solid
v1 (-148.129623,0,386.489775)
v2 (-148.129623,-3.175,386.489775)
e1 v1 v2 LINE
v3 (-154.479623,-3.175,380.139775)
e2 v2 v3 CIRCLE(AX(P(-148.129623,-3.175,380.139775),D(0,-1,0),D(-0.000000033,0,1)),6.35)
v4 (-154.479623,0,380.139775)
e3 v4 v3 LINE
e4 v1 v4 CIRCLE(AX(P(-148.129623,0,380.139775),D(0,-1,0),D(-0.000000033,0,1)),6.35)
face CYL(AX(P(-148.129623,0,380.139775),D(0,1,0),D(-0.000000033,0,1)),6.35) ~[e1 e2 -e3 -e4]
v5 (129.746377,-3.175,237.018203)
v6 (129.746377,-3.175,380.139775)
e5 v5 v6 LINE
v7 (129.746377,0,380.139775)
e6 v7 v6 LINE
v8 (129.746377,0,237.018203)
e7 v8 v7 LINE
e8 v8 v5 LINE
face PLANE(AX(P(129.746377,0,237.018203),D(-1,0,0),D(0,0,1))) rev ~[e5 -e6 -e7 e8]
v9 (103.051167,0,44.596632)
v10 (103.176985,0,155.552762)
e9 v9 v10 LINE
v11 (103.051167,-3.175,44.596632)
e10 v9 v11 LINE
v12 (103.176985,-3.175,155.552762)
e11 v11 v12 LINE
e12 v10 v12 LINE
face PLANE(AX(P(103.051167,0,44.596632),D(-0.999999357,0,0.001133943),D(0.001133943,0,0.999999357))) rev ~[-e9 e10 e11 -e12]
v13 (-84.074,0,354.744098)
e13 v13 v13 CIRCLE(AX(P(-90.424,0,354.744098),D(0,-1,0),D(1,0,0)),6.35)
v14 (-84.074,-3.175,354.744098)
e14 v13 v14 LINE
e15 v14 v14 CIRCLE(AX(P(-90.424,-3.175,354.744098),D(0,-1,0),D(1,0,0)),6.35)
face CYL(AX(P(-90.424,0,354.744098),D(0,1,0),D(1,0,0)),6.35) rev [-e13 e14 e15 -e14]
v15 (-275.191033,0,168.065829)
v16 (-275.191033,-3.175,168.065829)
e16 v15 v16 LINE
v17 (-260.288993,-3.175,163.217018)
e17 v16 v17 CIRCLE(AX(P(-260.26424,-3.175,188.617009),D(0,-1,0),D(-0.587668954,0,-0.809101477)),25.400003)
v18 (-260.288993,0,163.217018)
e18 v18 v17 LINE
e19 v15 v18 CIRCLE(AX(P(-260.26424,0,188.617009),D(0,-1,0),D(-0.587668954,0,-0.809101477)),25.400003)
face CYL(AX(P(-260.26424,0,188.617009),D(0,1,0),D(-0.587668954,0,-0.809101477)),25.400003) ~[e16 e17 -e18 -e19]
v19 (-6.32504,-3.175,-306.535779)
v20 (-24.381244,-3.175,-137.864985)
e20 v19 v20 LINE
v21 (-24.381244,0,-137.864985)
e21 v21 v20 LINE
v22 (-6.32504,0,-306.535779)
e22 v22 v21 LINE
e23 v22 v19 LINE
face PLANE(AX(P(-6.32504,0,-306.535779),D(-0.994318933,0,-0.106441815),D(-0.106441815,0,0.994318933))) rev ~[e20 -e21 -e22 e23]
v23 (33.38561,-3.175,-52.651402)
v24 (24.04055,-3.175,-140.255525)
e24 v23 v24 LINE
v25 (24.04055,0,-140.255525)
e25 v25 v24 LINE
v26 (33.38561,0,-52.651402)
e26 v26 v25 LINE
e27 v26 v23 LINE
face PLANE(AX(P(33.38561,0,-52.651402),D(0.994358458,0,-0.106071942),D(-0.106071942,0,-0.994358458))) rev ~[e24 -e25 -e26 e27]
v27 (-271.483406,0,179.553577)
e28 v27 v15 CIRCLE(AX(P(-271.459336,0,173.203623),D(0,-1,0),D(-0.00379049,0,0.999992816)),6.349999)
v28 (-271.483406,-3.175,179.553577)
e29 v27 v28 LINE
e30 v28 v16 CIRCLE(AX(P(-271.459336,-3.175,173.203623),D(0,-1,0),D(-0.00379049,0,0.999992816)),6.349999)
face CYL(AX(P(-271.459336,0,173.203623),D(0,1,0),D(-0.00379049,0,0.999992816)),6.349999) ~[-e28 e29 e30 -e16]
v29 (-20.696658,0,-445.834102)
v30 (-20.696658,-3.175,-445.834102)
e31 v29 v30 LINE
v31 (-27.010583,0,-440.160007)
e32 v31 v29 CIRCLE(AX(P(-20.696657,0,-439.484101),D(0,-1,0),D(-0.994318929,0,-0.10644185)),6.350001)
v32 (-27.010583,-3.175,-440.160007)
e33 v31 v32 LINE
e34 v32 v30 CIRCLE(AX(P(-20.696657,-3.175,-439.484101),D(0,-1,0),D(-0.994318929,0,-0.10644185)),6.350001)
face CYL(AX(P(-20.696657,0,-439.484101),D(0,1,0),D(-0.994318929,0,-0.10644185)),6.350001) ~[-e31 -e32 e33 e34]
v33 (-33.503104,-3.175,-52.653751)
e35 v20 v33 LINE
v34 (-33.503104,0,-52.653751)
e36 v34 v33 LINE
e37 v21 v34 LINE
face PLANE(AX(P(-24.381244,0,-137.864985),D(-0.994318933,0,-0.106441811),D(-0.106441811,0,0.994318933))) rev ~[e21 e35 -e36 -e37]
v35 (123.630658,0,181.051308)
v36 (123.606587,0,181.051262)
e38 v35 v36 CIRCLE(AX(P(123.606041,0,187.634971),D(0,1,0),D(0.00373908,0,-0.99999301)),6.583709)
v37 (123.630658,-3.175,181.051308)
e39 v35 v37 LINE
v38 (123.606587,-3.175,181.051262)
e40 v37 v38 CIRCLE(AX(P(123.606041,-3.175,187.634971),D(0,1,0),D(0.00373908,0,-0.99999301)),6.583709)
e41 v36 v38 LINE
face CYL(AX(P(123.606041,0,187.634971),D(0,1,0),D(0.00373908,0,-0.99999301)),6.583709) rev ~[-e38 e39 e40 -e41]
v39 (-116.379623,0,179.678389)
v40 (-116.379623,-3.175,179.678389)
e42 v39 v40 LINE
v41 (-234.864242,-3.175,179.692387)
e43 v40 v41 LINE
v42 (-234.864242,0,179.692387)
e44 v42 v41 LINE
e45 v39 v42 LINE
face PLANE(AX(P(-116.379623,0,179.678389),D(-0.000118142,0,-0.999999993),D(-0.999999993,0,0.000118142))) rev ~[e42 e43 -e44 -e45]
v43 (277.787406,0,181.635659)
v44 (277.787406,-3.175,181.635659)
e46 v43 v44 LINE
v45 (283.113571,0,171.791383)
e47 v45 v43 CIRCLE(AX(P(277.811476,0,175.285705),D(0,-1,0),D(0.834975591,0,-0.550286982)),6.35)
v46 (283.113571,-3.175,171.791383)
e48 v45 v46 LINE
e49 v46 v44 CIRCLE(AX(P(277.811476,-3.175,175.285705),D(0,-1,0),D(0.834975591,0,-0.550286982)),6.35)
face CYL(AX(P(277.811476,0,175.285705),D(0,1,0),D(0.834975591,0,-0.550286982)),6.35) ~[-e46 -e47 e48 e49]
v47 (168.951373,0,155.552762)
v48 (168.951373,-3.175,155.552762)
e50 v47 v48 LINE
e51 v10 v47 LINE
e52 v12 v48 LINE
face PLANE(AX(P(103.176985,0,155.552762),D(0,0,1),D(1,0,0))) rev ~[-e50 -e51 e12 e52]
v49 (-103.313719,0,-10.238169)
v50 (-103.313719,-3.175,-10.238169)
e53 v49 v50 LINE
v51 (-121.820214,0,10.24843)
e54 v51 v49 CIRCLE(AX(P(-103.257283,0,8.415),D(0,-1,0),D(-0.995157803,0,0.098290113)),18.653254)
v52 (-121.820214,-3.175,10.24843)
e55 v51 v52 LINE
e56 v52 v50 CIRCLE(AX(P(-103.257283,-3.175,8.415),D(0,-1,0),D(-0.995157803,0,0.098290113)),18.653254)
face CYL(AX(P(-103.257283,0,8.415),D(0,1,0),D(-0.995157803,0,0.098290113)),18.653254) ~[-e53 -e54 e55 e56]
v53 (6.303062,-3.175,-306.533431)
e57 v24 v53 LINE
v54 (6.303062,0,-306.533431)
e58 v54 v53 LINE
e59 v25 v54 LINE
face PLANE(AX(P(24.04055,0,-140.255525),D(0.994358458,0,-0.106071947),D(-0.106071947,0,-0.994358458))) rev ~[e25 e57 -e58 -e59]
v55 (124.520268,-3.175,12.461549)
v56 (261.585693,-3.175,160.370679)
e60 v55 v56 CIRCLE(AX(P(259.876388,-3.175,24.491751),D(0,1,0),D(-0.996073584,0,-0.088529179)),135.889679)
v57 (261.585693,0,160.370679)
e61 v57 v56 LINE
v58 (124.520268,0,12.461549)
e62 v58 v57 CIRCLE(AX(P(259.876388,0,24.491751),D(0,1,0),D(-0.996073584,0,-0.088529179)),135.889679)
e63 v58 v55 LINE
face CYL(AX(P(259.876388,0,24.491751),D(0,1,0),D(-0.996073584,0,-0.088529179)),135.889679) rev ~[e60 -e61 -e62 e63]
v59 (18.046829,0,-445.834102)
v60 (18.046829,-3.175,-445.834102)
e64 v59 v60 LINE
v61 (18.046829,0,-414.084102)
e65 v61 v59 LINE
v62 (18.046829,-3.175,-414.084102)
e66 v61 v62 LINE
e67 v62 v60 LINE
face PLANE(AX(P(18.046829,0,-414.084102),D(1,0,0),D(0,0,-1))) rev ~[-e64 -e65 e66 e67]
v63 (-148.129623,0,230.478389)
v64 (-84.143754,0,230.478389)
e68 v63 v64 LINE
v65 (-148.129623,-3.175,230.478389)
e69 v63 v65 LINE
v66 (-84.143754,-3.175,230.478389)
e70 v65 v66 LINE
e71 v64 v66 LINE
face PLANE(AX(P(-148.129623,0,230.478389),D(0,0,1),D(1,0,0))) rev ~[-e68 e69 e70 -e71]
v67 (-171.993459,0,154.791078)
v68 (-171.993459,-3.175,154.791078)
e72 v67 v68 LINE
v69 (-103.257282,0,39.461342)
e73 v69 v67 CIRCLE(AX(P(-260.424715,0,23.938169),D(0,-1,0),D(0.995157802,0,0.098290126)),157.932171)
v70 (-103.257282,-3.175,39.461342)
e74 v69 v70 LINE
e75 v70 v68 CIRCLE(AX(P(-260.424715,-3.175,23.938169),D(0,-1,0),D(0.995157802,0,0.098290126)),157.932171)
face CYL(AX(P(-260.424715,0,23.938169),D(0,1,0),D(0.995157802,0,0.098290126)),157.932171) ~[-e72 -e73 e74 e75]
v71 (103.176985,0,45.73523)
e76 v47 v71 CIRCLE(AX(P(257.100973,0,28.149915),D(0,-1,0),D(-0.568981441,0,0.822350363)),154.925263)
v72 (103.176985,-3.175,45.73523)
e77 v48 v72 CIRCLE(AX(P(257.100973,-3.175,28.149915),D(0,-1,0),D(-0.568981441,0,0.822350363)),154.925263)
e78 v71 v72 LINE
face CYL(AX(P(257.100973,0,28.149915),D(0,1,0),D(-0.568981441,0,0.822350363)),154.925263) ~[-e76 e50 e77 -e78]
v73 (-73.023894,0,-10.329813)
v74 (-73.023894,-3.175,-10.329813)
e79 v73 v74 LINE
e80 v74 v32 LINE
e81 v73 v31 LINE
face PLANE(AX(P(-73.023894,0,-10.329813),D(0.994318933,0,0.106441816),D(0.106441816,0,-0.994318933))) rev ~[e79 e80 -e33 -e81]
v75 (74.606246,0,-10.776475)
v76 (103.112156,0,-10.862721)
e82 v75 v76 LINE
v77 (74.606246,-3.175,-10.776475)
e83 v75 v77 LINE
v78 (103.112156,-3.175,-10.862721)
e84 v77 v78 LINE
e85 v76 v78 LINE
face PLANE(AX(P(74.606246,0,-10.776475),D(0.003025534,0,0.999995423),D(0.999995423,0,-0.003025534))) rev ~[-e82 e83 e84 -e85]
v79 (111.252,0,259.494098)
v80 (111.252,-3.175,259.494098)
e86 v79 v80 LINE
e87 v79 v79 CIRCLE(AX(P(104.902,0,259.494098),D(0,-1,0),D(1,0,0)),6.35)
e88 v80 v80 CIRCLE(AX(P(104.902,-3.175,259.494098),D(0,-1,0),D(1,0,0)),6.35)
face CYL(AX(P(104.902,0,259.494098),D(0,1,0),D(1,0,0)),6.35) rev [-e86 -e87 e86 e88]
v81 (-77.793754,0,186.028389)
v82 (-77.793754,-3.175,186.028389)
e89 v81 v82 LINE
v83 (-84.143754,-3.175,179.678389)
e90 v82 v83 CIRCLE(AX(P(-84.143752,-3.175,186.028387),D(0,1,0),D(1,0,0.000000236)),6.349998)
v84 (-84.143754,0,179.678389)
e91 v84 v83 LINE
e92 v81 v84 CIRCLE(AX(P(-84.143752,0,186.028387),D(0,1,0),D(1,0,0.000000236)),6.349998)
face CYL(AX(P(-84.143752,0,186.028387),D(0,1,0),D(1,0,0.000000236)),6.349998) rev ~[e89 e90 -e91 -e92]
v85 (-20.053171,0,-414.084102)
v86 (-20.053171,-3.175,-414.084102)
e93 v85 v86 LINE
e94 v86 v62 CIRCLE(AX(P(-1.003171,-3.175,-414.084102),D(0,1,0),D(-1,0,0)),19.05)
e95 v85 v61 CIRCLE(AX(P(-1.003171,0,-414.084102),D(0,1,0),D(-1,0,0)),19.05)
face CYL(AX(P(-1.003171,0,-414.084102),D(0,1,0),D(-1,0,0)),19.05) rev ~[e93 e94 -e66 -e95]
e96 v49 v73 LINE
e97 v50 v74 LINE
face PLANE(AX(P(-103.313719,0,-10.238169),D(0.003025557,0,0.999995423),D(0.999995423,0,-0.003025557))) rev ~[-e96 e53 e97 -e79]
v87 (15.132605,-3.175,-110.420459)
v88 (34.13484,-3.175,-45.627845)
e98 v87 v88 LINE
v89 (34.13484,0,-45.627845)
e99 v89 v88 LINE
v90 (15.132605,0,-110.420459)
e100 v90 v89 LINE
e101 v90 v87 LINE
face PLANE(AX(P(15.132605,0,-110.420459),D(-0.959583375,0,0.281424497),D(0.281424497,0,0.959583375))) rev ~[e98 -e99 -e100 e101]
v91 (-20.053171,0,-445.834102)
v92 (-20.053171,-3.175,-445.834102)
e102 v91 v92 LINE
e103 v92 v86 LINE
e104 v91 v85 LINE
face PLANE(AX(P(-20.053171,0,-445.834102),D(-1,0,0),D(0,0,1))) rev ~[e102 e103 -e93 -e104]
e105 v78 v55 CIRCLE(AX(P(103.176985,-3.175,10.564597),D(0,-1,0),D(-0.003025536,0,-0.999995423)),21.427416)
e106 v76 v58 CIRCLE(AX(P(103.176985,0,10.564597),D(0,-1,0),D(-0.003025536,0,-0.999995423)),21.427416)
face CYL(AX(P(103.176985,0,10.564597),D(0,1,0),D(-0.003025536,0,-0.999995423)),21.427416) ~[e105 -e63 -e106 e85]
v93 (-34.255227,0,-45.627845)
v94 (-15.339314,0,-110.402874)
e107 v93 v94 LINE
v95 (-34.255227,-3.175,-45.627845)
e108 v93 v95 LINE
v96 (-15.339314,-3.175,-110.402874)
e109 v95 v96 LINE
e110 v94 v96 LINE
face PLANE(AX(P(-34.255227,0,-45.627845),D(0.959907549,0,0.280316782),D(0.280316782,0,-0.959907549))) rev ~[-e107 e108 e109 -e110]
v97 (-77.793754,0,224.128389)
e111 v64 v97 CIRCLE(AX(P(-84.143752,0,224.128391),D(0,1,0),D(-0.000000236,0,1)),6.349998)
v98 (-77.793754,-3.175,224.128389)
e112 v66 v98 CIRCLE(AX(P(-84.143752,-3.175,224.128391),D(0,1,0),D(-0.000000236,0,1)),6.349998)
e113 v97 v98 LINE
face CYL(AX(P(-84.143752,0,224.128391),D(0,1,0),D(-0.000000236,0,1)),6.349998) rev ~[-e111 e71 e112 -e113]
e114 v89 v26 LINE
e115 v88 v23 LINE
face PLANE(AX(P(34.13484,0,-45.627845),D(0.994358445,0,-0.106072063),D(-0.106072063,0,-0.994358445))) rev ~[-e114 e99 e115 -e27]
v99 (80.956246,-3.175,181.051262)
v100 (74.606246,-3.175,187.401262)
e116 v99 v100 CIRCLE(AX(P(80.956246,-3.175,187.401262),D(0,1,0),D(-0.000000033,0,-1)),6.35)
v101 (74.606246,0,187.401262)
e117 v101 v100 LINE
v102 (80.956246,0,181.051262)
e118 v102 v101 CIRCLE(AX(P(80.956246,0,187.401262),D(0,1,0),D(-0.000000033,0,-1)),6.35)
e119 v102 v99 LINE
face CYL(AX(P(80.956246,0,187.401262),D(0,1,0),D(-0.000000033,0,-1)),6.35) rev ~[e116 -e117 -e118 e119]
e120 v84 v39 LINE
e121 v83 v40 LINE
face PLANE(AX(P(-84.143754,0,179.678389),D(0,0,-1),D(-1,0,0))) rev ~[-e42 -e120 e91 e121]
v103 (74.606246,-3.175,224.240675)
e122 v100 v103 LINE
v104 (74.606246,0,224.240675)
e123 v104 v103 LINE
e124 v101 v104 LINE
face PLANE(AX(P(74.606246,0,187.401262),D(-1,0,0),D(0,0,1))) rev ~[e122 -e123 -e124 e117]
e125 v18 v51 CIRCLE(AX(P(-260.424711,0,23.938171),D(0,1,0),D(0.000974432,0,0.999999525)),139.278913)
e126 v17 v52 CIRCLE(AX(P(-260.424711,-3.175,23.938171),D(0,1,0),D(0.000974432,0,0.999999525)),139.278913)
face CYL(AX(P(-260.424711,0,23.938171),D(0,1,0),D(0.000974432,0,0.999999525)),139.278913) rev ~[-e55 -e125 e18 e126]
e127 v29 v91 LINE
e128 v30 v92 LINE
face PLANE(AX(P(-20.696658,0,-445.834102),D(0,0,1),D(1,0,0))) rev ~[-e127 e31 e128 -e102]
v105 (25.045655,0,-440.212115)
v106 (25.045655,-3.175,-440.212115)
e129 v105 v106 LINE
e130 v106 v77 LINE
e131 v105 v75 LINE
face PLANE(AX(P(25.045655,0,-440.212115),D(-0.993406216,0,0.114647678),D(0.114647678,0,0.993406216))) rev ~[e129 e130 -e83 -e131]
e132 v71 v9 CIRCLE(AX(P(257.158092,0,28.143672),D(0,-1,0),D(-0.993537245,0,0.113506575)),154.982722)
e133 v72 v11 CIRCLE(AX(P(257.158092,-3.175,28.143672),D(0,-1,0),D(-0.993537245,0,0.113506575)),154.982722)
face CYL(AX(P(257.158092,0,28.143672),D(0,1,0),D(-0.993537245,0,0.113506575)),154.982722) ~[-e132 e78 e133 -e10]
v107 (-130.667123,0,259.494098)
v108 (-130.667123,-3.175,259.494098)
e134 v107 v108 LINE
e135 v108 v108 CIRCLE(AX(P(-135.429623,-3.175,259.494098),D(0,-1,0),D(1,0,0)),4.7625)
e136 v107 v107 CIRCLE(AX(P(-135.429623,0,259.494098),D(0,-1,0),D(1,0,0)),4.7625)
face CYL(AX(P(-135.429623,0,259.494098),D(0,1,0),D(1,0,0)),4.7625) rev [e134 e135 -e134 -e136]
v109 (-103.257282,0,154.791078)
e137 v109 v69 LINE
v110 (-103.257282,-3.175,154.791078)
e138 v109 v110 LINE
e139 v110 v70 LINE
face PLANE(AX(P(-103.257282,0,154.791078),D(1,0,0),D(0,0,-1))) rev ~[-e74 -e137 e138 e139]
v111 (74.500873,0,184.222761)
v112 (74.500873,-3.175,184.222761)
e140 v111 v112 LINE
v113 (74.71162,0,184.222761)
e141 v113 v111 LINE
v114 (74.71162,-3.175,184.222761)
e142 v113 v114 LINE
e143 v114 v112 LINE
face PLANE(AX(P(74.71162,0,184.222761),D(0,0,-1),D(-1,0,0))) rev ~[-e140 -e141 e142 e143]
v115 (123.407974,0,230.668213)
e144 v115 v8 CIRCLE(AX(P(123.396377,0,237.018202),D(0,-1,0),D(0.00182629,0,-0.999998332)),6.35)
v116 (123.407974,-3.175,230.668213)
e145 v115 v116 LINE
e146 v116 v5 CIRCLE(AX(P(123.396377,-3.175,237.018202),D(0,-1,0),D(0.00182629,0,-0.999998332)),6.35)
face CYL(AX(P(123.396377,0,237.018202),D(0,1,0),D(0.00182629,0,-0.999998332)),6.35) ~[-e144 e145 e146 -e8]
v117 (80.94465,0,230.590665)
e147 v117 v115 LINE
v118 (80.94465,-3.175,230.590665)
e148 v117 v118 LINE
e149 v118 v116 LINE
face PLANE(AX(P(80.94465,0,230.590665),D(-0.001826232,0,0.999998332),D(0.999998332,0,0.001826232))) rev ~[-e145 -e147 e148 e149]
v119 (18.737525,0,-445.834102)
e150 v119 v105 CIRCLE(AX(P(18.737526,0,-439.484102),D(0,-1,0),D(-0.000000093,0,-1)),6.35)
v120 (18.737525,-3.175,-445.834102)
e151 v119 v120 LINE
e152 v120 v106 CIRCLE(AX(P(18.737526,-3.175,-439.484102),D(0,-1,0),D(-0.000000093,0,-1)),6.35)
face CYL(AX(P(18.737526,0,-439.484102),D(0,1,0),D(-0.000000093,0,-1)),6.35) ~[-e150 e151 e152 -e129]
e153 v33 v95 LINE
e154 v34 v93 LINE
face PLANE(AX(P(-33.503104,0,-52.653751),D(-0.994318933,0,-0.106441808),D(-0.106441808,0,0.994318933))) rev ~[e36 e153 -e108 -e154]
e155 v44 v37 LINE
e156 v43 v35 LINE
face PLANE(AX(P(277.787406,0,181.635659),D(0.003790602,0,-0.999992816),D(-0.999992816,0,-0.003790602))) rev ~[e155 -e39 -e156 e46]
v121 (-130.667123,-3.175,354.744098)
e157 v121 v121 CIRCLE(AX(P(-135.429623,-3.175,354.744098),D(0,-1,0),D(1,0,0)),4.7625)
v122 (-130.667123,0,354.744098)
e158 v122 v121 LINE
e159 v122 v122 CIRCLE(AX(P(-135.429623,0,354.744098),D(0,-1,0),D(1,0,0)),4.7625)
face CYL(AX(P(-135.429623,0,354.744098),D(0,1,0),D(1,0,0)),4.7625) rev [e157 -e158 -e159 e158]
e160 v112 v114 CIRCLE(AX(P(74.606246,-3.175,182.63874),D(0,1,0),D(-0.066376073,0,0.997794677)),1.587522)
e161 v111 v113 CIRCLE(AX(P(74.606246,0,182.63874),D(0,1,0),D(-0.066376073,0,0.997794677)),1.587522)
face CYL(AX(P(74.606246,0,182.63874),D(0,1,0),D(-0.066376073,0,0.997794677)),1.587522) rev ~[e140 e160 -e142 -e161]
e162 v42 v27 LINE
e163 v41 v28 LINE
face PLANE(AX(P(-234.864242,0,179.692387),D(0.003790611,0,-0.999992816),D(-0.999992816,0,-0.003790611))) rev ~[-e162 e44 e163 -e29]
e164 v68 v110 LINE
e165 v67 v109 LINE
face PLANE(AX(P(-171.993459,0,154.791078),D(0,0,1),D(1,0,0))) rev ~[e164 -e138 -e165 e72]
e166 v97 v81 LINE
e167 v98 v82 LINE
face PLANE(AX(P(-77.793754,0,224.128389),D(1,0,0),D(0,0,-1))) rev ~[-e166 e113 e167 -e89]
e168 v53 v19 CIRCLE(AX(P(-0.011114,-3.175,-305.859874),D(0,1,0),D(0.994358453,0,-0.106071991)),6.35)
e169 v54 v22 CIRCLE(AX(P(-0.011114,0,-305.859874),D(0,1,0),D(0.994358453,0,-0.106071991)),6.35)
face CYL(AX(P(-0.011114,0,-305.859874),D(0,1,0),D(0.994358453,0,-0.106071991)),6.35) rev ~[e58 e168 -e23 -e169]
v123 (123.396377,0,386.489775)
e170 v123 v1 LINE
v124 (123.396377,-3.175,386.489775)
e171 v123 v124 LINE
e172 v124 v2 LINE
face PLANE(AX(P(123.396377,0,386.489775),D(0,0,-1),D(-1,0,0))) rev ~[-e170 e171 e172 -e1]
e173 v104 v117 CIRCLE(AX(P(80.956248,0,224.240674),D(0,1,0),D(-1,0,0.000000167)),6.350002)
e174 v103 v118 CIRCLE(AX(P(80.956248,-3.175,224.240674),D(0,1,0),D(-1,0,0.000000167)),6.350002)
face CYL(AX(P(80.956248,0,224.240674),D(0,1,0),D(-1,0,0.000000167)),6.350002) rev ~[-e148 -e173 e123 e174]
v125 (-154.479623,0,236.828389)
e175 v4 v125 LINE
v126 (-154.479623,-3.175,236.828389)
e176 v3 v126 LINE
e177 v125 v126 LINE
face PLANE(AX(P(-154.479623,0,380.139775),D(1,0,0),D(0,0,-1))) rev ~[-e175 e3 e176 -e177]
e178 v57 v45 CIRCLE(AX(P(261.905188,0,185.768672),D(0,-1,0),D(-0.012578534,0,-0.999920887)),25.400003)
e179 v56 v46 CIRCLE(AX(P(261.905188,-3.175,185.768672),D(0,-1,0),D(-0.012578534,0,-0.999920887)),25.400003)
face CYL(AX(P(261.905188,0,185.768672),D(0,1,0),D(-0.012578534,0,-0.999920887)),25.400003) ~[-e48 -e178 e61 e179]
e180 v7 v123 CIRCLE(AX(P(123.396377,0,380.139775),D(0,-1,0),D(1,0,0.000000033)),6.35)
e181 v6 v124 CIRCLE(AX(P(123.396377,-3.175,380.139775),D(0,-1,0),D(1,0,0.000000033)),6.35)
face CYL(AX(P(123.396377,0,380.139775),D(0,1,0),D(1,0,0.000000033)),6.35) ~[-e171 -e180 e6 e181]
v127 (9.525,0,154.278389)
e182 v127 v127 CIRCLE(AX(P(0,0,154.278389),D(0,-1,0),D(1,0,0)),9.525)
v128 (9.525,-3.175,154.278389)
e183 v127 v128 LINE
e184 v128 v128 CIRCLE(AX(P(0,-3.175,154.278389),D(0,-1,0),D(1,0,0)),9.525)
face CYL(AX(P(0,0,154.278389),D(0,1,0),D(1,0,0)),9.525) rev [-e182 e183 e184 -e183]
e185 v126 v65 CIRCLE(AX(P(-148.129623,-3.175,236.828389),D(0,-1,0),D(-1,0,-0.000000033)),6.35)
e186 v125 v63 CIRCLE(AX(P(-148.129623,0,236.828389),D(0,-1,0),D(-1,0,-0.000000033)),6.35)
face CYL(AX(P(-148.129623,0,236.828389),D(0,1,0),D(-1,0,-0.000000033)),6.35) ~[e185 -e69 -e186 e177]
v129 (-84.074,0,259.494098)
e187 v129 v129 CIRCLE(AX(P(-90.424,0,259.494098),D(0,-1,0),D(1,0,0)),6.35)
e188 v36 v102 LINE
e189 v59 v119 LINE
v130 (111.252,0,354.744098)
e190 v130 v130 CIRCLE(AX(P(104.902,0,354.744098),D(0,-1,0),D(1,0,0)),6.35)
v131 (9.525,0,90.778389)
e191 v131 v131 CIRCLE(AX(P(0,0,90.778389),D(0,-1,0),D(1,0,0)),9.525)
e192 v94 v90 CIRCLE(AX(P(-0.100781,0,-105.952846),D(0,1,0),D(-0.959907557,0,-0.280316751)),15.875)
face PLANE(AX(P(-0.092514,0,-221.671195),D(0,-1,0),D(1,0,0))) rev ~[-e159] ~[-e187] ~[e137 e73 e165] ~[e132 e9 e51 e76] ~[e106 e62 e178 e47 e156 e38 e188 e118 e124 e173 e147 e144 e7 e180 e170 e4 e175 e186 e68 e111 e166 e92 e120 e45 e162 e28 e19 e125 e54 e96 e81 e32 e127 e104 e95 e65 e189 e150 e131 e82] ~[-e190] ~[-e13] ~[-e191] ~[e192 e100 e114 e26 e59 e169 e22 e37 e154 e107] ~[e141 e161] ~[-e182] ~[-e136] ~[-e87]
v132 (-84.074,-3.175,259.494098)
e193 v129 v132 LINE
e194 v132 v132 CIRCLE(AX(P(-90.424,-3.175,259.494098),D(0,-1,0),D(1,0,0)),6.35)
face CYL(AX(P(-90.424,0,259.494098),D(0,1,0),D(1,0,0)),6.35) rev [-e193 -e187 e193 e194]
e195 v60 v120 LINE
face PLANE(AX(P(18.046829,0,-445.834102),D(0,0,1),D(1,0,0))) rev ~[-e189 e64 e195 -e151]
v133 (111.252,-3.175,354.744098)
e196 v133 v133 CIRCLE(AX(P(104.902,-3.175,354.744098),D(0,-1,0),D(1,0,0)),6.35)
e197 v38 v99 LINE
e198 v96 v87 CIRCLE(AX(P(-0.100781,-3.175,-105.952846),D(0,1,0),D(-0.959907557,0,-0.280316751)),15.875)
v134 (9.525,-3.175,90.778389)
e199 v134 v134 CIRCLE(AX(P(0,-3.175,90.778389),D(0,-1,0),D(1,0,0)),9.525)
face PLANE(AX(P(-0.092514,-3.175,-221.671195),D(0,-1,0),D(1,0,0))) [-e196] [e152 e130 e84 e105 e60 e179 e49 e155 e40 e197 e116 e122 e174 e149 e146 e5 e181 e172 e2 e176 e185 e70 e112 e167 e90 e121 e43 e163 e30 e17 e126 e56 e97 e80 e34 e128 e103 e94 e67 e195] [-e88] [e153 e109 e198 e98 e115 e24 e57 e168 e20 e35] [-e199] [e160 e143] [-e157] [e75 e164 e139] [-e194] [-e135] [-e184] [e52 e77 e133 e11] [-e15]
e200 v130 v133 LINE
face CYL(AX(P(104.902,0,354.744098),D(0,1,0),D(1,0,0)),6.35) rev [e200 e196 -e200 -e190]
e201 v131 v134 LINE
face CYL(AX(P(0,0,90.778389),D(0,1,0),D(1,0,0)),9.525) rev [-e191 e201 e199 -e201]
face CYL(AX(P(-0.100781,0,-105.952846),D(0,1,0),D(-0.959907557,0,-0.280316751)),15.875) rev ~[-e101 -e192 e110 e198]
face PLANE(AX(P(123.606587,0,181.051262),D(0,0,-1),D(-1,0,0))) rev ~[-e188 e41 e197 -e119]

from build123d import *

# Parameters (mm, degrees)
F0_R     = 9.525
F0_R_2   = 4.7625
F0_R_3   = 6.35
F1_DEPTH = 3.175


with BuildPart() as f1:
    # F0 (on Front) → F1 (new body)
    with BuildSketch(Plane.XZ):
        with BuildLine():
            Line((25.045655, -440.212115), (74.606246, -10.776475))
            Line((74.606246, -10.776475), (-73.023894, -10.329813))
            Line((-73.023894, -10.329813), (-27.010583, -440.160007))
            ThreePointArc((-27.010583, -440.160007), (-24.941095, -444.207157), (-20.696658, -445.834102))
            Line((-20.696658, -445.834102), (-20.053171, -445.834102))
            Line((-20.053171, -445.834102), (-20.053171, -414.084102))
            ThreePointArc((-20.053171, -414.084102), (-1.003171, -395.034102), (18.046829, -414.084102))
            Line((18.046829, -414.084102), (18.046829, -445.834102))
            Line((18.046829, -445.834102), (18.737525, -445.834102))
            ThreePointArc((18.737525, -445.834102), (22.962429, -444.224639), (25.045655, -440.212115))
        make_face()
        with BuildLine():
            Line((-6.32504, -306.535779), (-24.381244, -137.864985))
            Line((-24.381244, -137.864985), (-33.503104, -52.653751))
            Line((-33.503104, -52.653751), (-34.255227, -45.627845))
            Line((-34.255227, -45.627845), (-15.339314, -110.402874))
            ThreePointArc((-15.339314, -110.402874), (-0.09162, -90.077848), (15.132605, -110.420459))
            Line((15.132605, -110.420459), (34.13484, -45.627845))
            Line((34.13484, -45.627845), (33.38561, -52.651402))
            Line((33.38561, -52.651402), (24.04055, -140.255525))
            Line((24.04055, -140.255525), (6.303062, -306.533431))
            ThreePointArc((6.303062, -306.533431), (-0.009934, -312.209874), (-6.32504, -306.535779))
        make_face(mode=Mode.SUBTRACT)
        with BuildLine():
            ThreePointArc((283.113571, 171.791383), (283.396441, 178.307404), (277.787406, 181.635659))
            Line((277.787406, 181.635659), (123.630658, 181.051308))
            ThreePointArc((123.630658, 181.051308), (123.618623, 181.051274), (123.606587, 181.051262))
            Line((123.606587, 181.051262), (80.956246, 181.051262))
            ThreePointArc((80.956246, 181.051262), (76.466118, 182.911134), (74.606246, 187.401262))
            Line((74.606246, 187.401262), (74.606246, 224.240675))
            ThreePointArc((74.606246, 224.240675), (76.46202, 228.726701), (80.94465, 230.590665))
            Line((80.94465, 230.590665), (123.407974, 230.668213))
            ThreePointArc((123.407974, 230.668213), (127.890604, 232.532177), (129.746377, 237.018203))
            Line((129.746377, 237.018203), (129.746377, 332.519098))
            Line((129.746377, 332.519098), (129.746377, 380.139775))
            ThreePointArc((129.746377, 380.139775), (127.886505, 384.629903), (123.396377, 386.489775))
            Line((123.396377, 386.489775), (-110.029623, 386.489775))
            Line((-110.029623, 386.489775), (-148.129623, 386.489775))
            ThreePointArc((-148.129623, 386.489775), (-152.619751, 384.629903), (-154.479623, 380.139775))
            Line((-154.479623, 380.139775), (-154.479623, 236.828389))
            ThreePointArc((-154.479623, 236.828389), (-152.619751, 232.338261), (-148.129623, 230.478389))
            Line((-148.129623, 230.478389), (-110.029623, 230.478389))
            Line((-110.029623, 230.478389), (-84.143754, 230.478389))
            ThreePointArc((-84.143754, 230.478389), (-79.653625, 228.618517), (-77.793754, 224.128389))
            Line((-77.793754, 224.128389), (-77.793754, 186.028389))
            ThreePointArc((-77.793754, 186.028389), (-79.653625, 181.538261), (-84.143754, 179.678389))
            Line((-84.143754, 179.678389), (-116.379623, 179.678389))
            Line((-116.379623, 179.678389), (-234.864242, 179.692387))
            Line((-234.864242, 179.692387), (-271.483406, 179.553577))
            ThreePointArc((-271.483406, 179.553577), (-277.502393, 175.153997), (-275.191033, 168.065829))
            ThreePointArc((-275.191033, 168.065829), (-268.123306, 164.463433), (-260.288993, 163.217018))
            ThreePointArc((-260.288993, 163.217018), (-157.167464, 117.40772), (-121.820214, 10.24843))
            ThreePointArc((-121.820214, 10.24843), (-117.099081, -4.08894), (-103.313719, -10.238169))
            Line((-103.313719, -10.238169), (-73.023894, -10.329813))
            Line((-73.023894, -10.329813), (74.606246, -10.776475))
            Line((74.606246, -10.776475), (103.112156, -10.862721))
            ThreePointArc((103.112156, -10.862721), (118.963009, -3.924558), (124.520268, 12.461549))
            ThreePointArc((124.520268, 12.461549), (160.203696, 116.857109), (261.585693, 160.370679))
            ThreePointArc((261.585693, 160.370679), (273.808739, 163.330633), (283.113571, 171.791383))
        make_face()
        with BuildLine():
            Line((-103.257282, 154.791078), (-103.257282, 39.461342))
            ThreePointArc((-103.257282, 39.461342), (-124.759996, 104.793935), (-171.993459, 154.791078))
            Line((-171.993459, 154.791078), (-103.257282, 154.791078))
        make_face(mode=Mode.SUBTRACT)
        with Locations((0, 90.778389)):
            Circle(F0_R, mode=Mode.SUBTRACT)
        with Locations((0, 154.278389)):
            Circle(F0_R, mode=Mode.SUBTRACT)
        with Locations((-135.429623, 259.494098)):
            Circle(F0_R_2, mode=Mode.SUBTRACT)
        with Locations((-90.424, 259.494098)):
            Circle(F0_R_3, mode=Mode.SUBTRACT)
        with Locations((-135.429623, 354.744098)):
            Circle(F0_R_2, mode=Mode.SUBTRACT)
        with Locations((-90.424, 354.744098)):
            Circle(F0_R_3, mode=Mode.SUBTRACT)
        with BuildLine():
            Line((103.051167, 44.596632), (103.176985, 155.552762))
            Line((103.176985, 155.552762), (168.951373, 155.552762))
            ThreePointArc((168.951373, 155.552762), (124.191688, 107.754936), (103.176985, 45.73523))
            ThreePointArc((103.176985, 45.73523), (103.113024, 45.166047), (103.051167, 44.596632))
        make_face(mode=Mode.SUBTRACT)
        with BuildLine():
            ThreePointArc((74.500873, 184.222761), (74.606246, 184.226262), (74.71162, 184.222761))
            Line((74.71162, 184.222761), (74.500873, 184.222761))
        make_face(mode=Mode.SUBTRACT)
        with Locations((104.902, 259.494098)):
            Circle(F0_R_3, mode=Mode.SUBTRACT)
        with Locations((104.902, 354.744098)):
            Circle(F0_R_3, mode=Mode.SUBTRACT)
    extrude(amount=F1_DEPTH)


solid = f1.part
